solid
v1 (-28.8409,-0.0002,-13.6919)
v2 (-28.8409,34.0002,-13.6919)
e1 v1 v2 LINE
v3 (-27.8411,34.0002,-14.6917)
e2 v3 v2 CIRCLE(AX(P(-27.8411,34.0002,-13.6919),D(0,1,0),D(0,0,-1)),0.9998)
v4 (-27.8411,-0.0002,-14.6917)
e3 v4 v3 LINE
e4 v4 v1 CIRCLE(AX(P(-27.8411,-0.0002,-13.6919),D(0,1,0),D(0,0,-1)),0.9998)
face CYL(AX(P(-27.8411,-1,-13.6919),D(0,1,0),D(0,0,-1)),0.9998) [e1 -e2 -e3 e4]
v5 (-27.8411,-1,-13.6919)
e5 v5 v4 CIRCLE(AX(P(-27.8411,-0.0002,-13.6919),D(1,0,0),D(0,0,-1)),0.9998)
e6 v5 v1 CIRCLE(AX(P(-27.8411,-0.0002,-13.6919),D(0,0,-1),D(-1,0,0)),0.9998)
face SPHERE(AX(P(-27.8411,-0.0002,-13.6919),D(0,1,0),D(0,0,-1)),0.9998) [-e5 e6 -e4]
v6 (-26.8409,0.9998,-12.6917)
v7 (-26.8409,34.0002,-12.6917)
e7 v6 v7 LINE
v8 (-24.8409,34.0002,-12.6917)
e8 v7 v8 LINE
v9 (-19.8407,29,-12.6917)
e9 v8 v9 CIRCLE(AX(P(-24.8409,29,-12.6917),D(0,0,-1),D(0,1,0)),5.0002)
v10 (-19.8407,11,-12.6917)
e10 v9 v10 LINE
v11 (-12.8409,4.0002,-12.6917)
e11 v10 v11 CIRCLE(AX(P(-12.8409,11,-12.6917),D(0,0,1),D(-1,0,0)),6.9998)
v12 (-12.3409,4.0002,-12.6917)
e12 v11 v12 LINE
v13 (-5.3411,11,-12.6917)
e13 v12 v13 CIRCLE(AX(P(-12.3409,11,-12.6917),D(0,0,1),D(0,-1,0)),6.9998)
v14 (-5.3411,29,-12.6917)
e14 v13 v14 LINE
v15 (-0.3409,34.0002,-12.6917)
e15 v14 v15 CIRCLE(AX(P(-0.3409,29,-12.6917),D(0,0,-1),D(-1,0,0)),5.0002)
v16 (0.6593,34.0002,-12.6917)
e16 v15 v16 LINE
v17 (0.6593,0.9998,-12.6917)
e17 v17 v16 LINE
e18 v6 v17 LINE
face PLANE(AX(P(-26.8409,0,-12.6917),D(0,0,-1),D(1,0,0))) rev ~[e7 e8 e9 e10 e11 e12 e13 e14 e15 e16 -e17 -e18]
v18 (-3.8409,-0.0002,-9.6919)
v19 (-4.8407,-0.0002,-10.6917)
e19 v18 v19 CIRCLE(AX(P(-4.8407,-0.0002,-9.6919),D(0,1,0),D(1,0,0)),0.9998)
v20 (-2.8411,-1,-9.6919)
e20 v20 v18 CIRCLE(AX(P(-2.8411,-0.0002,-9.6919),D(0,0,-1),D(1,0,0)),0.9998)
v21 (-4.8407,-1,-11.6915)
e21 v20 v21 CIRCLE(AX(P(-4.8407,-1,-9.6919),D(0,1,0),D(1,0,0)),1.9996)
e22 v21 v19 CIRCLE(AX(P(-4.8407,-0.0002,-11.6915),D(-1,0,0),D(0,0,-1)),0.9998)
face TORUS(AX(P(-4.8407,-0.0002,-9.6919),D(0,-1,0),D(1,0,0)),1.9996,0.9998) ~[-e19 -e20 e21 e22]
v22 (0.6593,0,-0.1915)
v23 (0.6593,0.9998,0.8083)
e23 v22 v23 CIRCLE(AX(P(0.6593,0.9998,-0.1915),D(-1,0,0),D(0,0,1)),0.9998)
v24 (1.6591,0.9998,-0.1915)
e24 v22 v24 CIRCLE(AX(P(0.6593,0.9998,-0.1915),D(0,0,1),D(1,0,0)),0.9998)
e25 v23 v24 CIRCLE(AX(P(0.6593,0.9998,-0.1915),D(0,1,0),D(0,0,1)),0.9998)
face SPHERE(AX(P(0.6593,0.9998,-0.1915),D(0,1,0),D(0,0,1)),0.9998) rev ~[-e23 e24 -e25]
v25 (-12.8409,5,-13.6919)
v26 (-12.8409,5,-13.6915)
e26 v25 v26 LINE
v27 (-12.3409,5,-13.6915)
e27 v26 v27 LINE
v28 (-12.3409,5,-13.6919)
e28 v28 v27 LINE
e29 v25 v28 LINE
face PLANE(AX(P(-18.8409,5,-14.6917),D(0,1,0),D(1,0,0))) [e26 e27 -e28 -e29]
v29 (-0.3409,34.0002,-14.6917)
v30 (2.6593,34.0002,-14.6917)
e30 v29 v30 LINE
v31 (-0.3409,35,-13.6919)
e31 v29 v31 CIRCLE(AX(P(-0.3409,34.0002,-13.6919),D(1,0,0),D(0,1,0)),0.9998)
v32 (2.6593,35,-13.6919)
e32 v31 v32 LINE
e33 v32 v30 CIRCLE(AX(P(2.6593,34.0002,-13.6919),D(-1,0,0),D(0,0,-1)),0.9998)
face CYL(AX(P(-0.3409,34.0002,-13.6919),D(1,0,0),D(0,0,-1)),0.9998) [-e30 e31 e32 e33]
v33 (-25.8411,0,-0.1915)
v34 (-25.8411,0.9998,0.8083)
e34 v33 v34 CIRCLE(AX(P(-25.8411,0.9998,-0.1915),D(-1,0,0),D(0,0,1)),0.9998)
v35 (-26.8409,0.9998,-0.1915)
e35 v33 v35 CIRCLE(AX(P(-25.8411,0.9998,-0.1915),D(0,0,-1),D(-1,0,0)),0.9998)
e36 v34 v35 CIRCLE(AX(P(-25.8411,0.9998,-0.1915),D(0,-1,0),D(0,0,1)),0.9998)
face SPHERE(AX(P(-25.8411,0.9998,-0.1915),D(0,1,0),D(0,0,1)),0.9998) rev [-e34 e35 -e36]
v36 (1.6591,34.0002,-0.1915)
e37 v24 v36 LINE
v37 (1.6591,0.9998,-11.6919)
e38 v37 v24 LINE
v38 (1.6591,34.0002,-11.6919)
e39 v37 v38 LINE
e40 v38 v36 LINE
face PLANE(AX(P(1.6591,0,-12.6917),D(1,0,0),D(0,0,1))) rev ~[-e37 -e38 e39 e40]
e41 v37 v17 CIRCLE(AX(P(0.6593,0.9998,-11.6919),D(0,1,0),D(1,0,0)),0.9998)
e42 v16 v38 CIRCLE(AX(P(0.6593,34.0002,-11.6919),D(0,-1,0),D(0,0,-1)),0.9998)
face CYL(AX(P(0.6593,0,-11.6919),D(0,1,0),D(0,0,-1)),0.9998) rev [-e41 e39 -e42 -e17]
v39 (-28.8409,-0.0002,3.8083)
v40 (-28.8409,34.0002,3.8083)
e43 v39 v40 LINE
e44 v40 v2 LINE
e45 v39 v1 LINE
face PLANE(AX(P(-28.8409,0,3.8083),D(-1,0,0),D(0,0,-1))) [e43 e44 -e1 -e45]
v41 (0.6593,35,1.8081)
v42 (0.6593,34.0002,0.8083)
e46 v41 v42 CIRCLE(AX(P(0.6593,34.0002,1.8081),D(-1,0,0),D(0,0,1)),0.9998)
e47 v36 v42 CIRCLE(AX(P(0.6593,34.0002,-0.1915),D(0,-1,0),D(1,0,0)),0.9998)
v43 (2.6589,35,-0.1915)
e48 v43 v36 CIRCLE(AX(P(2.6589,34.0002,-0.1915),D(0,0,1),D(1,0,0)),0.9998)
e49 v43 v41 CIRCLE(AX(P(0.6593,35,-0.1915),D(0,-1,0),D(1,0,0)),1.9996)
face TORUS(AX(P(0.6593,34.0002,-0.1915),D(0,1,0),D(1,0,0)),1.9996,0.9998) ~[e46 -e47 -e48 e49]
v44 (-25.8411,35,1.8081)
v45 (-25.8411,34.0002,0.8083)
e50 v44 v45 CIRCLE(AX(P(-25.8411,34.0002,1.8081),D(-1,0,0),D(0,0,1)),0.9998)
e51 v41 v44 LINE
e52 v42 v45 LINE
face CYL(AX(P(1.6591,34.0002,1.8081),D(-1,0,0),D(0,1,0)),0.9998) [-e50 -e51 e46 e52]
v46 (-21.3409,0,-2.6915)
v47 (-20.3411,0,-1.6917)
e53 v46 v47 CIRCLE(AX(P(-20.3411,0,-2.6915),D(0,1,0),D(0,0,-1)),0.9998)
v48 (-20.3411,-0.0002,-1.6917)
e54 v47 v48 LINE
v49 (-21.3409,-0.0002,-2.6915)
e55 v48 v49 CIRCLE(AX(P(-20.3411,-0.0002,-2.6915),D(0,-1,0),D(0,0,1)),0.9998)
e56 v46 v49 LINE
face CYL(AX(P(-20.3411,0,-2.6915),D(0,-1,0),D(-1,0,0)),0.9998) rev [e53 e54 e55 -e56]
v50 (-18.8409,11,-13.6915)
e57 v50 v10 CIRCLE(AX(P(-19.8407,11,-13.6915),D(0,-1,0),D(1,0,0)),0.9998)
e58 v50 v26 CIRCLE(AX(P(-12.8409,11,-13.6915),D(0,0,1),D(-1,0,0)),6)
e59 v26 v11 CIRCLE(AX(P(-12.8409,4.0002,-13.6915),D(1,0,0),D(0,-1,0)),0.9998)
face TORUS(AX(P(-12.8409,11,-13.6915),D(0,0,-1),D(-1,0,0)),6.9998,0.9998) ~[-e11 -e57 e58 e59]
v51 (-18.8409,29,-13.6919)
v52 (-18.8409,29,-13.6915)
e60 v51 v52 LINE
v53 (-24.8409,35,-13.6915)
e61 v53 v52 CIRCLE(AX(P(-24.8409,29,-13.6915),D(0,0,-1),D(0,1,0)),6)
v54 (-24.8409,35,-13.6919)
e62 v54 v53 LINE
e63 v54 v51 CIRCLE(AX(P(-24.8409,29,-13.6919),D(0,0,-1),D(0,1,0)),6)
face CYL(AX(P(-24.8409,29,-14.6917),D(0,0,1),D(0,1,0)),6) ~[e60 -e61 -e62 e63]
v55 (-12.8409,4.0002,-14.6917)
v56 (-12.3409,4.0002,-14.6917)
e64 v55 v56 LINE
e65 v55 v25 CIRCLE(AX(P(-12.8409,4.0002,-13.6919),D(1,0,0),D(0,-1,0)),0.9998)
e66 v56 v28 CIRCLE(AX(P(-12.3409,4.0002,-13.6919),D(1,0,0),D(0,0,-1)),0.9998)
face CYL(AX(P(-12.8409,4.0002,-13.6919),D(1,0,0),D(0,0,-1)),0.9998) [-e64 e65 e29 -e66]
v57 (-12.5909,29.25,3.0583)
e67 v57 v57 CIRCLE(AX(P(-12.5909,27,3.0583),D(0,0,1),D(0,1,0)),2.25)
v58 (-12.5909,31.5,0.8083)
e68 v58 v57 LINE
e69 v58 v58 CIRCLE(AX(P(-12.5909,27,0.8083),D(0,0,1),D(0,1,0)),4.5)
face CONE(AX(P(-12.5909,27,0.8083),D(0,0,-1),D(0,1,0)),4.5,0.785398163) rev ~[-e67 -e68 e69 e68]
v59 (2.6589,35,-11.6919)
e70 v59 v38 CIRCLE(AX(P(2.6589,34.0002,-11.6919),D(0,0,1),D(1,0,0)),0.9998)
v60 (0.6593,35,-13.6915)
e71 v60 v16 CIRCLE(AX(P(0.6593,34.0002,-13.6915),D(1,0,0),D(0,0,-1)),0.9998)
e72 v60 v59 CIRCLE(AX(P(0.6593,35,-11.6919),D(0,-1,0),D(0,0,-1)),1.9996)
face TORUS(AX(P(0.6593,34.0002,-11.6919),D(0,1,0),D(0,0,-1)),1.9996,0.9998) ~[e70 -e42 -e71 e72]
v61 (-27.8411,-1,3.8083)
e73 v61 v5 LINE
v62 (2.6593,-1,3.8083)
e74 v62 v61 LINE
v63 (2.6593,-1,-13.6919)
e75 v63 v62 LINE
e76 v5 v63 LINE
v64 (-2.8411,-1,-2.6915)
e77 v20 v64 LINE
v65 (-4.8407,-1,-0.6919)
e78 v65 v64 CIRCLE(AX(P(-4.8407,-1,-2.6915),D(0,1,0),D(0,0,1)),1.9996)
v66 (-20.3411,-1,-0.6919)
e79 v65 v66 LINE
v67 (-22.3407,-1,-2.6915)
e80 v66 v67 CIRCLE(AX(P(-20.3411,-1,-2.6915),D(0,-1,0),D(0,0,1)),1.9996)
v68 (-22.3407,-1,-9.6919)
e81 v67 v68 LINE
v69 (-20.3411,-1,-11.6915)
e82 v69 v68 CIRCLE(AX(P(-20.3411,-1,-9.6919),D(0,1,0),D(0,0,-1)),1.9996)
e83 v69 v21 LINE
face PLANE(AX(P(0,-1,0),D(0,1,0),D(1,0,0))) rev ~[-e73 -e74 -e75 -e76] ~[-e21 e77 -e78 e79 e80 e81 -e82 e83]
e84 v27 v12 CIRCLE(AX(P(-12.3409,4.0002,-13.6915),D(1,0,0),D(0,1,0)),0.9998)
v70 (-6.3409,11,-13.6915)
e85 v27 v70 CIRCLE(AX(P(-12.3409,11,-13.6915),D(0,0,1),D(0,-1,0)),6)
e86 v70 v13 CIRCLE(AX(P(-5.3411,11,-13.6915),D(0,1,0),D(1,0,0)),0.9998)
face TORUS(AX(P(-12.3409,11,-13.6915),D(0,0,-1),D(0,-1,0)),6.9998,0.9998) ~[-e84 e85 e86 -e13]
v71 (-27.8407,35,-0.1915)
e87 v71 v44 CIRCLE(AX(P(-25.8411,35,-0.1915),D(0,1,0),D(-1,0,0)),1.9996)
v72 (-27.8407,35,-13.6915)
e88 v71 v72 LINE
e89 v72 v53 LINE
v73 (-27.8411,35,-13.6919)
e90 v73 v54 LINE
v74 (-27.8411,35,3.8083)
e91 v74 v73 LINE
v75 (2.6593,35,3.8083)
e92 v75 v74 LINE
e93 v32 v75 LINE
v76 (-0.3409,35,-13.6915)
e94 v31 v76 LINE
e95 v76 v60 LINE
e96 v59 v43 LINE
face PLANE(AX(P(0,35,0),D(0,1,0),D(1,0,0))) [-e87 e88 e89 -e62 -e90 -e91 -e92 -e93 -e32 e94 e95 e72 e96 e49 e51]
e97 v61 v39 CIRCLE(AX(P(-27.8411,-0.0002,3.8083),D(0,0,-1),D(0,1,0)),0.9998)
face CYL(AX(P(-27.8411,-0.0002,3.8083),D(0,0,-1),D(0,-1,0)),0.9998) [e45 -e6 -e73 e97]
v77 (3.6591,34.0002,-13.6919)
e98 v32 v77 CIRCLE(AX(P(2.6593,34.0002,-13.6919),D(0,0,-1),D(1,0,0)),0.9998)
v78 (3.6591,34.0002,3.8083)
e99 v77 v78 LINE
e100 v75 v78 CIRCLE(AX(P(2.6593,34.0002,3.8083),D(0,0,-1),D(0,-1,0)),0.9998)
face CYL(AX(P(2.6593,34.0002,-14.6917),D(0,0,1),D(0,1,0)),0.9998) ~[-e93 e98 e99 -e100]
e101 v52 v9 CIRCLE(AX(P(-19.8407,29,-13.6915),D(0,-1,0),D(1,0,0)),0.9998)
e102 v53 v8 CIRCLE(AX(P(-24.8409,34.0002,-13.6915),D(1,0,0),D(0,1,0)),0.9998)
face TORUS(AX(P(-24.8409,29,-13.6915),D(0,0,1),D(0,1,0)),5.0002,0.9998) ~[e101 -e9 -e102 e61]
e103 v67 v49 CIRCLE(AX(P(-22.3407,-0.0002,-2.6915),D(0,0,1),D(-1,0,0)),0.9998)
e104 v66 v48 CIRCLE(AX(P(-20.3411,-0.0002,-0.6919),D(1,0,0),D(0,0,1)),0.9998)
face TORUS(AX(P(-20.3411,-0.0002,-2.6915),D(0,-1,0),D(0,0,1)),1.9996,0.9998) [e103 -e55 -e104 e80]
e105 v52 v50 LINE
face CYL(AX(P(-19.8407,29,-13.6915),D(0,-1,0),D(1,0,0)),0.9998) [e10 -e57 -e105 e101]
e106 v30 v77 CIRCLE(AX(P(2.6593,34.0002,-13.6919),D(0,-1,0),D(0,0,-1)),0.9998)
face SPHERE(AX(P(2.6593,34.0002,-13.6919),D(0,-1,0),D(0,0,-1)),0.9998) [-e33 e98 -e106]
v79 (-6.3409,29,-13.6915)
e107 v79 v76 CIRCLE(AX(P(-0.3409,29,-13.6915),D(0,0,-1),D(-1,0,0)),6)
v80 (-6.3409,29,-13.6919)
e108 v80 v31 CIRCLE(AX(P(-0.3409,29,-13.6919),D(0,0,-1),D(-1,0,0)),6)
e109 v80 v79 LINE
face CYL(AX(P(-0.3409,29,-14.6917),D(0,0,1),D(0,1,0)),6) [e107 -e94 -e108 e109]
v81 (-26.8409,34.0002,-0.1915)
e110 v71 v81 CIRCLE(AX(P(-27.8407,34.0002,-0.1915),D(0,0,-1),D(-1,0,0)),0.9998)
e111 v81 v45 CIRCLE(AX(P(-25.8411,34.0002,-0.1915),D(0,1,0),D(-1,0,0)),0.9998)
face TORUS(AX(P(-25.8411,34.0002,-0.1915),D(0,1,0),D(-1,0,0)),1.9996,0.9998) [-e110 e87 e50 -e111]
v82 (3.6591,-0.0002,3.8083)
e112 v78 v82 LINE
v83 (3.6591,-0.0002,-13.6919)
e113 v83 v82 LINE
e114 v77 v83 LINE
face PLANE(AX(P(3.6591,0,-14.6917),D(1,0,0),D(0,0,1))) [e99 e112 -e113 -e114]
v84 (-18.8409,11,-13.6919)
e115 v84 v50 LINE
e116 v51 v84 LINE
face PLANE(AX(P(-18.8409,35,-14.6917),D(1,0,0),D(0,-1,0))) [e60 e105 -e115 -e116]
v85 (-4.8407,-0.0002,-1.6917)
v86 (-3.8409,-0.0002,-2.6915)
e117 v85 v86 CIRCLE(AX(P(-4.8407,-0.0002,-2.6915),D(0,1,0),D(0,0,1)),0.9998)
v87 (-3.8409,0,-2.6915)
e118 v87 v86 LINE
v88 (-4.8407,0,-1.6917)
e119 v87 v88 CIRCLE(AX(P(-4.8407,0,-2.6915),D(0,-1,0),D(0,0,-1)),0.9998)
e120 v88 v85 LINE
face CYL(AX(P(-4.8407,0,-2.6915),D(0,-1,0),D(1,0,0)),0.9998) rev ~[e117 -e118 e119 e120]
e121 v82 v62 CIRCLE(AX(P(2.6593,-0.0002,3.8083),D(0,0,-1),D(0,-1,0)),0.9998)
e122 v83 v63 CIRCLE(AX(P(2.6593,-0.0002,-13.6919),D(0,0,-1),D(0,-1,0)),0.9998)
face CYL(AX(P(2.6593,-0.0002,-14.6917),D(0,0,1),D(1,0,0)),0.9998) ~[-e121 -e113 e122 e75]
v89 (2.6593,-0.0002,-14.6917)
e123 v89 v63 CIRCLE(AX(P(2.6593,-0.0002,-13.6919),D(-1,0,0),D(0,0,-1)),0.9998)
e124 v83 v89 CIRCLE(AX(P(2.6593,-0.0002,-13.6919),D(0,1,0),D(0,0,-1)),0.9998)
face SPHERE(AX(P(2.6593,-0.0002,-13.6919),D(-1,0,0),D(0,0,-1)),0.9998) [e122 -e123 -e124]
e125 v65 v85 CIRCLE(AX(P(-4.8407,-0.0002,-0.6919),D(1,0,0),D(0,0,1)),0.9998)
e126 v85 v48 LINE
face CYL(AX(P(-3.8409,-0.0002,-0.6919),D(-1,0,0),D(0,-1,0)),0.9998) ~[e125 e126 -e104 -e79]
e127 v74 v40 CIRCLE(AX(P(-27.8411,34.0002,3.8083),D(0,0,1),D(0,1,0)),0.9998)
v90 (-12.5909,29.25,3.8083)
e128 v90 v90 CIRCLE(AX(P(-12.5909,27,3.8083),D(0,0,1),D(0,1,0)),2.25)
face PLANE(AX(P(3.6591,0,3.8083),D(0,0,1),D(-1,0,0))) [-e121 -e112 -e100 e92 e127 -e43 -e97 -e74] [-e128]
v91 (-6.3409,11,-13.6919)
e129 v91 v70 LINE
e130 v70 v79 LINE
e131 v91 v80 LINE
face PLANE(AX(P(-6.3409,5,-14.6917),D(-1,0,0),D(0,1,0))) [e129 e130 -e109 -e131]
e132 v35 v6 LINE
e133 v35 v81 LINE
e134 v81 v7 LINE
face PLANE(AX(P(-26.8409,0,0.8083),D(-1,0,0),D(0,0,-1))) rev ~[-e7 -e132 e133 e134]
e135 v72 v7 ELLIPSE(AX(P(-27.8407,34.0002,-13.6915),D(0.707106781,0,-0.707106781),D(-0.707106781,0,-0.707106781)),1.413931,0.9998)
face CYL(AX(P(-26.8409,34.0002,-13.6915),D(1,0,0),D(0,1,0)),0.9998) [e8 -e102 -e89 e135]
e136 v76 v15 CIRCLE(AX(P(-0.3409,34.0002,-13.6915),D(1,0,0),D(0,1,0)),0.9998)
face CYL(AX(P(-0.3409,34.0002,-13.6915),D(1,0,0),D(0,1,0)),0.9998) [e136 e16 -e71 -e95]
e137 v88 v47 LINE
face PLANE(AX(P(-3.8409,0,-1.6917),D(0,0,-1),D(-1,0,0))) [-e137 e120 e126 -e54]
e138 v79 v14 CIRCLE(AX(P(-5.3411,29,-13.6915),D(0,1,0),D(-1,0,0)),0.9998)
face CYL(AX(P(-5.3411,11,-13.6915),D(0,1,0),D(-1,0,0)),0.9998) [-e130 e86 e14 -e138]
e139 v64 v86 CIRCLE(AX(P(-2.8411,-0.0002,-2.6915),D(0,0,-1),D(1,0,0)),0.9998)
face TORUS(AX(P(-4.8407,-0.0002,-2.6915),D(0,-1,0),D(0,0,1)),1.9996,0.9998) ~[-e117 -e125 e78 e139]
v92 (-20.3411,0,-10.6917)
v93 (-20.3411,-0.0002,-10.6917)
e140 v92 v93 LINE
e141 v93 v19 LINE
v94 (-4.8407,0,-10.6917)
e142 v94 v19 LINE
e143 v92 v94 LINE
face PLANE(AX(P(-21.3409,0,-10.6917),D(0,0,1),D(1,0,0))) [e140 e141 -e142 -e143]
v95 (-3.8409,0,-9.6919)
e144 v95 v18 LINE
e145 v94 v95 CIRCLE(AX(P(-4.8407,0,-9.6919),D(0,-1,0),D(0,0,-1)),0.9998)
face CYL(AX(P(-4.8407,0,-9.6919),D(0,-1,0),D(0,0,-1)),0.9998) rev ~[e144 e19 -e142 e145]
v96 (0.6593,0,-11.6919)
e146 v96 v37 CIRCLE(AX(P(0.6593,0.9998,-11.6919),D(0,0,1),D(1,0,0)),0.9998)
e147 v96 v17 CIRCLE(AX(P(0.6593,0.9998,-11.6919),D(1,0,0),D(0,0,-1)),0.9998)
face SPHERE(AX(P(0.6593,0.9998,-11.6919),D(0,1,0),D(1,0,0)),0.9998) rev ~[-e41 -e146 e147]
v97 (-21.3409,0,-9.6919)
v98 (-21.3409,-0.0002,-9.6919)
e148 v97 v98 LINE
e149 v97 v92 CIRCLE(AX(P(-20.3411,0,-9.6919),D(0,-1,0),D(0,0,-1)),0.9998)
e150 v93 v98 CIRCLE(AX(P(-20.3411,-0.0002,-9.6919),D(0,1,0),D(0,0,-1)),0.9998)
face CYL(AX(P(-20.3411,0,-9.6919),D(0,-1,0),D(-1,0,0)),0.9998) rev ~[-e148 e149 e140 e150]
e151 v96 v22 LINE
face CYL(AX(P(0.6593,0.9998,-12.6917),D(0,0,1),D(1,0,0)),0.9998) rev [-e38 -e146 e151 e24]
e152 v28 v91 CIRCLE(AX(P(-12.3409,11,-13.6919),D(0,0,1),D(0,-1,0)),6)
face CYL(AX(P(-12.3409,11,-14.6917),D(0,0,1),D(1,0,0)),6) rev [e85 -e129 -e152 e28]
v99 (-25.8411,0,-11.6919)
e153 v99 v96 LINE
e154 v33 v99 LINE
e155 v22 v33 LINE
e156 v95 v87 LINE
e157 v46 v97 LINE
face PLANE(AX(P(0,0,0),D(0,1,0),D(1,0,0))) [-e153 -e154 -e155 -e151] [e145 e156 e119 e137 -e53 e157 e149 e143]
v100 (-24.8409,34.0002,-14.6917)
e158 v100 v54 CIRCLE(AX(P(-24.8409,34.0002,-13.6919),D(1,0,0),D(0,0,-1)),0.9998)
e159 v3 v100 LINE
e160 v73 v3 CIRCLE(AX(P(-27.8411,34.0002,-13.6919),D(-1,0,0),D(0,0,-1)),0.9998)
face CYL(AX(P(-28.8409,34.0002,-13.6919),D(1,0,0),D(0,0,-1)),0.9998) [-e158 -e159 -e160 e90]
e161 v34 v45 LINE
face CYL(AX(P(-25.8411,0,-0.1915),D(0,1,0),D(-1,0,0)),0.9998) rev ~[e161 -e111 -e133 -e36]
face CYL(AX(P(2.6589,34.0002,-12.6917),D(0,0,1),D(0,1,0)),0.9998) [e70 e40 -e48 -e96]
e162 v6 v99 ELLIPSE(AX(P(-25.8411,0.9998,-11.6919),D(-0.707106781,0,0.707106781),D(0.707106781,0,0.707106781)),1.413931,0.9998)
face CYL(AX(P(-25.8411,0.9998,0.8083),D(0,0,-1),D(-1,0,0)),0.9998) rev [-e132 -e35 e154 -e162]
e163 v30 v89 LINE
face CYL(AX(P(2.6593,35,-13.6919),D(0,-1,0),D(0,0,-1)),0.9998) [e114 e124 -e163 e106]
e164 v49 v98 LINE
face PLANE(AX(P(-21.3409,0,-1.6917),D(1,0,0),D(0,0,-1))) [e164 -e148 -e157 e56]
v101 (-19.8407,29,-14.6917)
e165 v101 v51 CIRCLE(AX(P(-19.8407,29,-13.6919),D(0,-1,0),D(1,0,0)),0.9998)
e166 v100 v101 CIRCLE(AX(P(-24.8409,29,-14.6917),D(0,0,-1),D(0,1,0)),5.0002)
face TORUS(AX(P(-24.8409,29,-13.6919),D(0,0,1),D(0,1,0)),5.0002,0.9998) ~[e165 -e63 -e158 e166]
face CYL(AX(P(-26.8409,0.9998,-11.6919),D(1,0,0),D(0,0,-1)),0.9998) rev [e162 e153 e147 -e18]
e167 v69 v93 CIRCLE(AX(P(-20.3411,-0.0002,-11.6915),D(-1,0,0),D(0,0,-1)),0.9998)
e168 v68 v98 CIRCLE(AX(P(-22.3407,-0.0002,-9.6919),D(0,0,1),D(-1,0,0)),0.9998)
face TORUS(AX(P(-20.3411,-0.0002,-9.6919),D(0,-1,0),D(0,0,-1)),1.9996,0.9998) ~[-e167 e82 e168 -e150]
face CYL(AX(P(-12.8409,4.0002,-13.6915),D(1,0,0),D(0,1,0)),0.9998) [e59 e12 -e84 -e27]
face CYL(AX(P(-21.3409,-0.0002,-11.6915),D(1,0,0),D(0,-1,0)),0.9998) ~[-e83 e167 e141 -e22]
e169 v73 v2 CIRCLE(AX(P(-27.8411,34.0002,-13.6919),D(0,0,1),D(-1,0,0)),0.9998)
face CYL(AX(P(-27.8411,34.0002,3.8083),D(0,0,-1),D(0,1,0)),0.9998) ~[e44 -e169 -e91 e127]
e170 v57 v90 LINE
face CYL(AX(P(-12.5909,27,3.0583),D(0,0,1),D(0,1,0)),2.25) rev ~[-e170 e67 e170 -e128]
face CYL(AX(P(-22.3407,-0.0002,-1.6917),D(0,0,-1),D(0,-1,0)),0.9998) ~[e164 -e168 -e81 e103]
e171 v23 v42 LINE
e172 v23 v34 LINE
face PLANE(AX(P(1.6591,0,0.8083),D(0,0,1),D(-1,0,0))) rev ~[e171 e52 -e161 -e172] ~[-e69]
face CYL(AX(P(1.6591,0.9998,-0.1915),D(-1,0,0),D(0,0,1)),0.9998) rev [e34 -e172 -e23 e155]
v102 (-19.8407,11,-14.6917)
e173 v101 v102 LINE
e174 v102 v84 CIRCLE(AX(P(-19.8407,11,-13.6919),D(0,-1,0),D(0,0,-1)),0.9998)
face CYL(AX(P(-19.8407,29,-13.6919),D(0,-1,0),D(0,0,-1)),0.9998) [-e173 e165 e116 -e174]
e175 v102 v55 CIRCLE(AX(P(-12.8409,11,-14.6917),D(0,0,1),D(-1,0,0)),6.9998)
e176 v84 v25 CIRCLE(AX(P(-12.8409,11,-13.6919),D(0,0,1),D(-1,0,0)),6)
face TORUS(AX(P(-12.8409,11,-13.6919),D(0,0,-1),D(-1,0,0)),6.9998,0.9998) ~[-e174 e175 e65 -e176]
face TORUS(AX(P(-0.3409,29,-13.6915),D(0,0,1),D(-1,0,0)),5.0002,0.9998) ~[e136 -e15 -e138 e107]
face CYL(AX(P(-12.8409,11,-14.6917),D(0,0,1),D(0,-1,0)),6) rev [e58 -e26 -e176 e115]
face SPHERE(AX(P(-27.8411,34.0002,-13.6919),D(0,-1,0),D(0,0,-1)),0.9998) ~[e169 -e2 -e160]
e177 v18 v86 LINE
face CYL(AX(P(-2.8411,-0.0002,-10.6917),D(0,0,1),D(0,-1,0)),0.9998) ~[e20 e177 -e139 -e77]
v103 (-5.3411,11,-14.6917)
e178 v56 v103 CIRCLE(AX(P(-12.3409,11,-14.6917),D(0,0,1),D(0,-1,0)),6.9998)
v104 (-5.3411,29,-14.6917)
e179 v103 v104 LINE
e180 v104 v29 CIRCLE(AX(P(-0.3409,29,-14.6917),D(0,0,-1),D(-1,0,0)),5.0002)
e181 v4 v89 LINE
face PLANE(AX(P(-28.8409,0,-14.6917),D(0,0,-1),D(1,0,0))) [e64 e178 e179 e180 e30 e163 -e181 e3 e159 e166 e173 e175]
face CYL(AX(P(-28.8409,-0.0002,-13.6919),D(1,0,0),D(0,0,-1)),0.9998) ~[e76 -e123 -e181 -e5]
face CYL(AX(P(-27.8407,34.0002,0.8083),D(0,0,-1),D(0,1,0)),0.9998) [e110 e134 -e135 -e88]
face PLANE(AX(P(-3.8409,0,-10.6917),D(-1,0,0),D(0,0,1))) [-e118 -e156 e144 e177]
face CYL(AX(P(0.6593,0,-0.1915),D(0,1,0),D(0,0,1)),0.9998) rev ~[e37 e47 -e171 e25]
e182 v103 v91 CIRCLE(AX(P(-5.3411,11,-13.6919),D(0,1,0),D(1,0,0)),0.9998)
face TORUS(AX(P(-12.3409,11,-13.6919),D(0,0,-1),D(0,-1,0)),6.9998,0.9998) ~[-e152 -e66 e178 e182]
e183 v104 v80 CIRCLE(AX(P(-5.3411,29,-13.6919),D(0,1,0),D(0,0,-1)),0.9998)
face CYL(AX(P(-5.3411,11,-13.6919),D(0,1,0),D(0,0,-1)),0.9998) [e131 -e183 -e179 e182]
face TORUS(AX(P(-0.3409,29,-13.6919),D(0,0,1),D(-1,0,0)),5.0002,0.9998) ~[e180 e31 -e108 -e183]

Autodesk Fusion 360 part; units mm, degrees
sketch "Skizze1" plane through (0, 0, 0) normal (0, 1, 0) x (1, 0, 0)
  line L0 (-26.8409, 12.6917) -> (1.6591, 12.6917)
  line L1 (1.6591, 12.6917) -> (1.6591, -0.8083)
  line L2 (1.6591, -0.8083) -> (-26.8409, -0.8083)
  line L3 (-26.8409, -0.8083) -> (-26.8409, 12.6917)
  line L4 (-28.8409, 14.6917) -> (3.6591, 14.6917)
  line L5 (3.6591, 14.6917) -> (3.6591, -3.8083)
  line L6 (3.6591, -3.8083) -> (-28.8409, -3.8083)
  line L7 (-28.8409, -3.8083) -> (-28.8409, 14.6917)
  line L8 (-21.3409, 10.6917) -> (-3.8409, 10.6917)
  line L9 (-3.8409, 10.6917) -> (-3.8409, 1.6917)
  line L10 (-3.8409, 1.6917) -> (-21.3409, 1.6917)
  line L11 (-21.3409, 1.6917) -> (-21.3409, 10.6917)
  dimension "d1" = 28.5
  dimension "d2" = 13.5
  dimension "d3" = 2
  dimension "d4" = 3
  dimension "d5" = 2
  dimension "d6" = 2
  dimension "d8" = 5.5
  dimension "d9" = 5.5
  dimension "d10" = 2
  dimension "d11" = 2.5
extrude "Extrusion1" add sketch "Skizze1" along normal blind 35 contours L4 L5 L6 L7
extrude "Extrusion2" add sketch "Skizze1" against normal blind 1 contours L0 L1 L2 L3 | L4 L5 L6 L7
sketch "Skizze2" plane through (0, 0, -14.6917) normal (0, 0, -1) x (-1, 0, 0)
  line L0 (28.8409, -1) -> (28.8409, 35)
  line L1 (28.8409, 35) -> (-3.6591, 35)
  line L2 (-3.6591, 35) -> (-3.6591, -1)
  line L3 (-3.6591, -1) -> (28.8409, -1)
  line L4 (6.3409, 35) -> (18.8409, 35)
  line L5 (18.8409, 35) -> (18.8409, 5)
  line L6 (18.8409, 5) -> (6.3409, 5)
  line L7 (6.3409, 5) -> (6.3409, 35)
  line L8 (28.8409, 0) -> (-3.6591, 0)
  dimension "d16" = 10
  dimension "d17" = 10
  dimension "d18" = 5
extrude "Extrusion3" cut sketch "Skizze2" against normal blind 2 contours L1 L4 L5 L6 L7
fillet "Abrundung1" radius 6 4 edges at (-6.3409, 35, -13.6917) (-18.8409, 35, -13.6917) (-18.8409, 5, -13.6917) (-6.3409, 5, -13.6917)
fillet "Abrundung2" radius 1 43 edges at (-28.8409, 17, -14.6917) (-12.5909, -1, -14.6917) (-28.8409, -1, -5.4417) (3.6591, 17, -14.6917) (3.6591, -1, -5.4417) (-12.5909, -1, -1.6917) (-3.8409, -1, -6.1917) (-12.5909, -1, -10.6917) (-21.3409, -1, -6.1917) (1.6591, 35, -14.6917) (-4.5835, 33.2426, -14.6917) (-6.3409, 20, -14.6917) (-8.0983, 6.7574, -14.6917) (-12.5909, 5, -14.6917) (-17.0835, 6.7574, -14.6917) (-18.8409, 20, -14.6917) (-20.5983, 33.2426, -14.6917) (-26.8409, 35, -14.6917) (-28.8409, 35, -5.4417) (-26.8409, 35, -5.9417) (1.6591, 35, -5.9417) (-12.5909, 35, 0.8083) (3.6591, 35, -5.4417) (1.6591, 17.5, 0.8083) (-26.8409, 17.5, 0.8083) (-12.5909, 0, 0.8083) (1.6591, 17.5, -12.6917) (1.6591, 0, -5.9417) (-12.5909, 0, -12.6917) (-26.8409, 0, -5.9417) (-25.8409, 35, -12.6917) (-20.5983, 33.2426, -12.6917) (-18.8409, 20, -12.6917) (-17.0835, 6.7574, -12.6917) (-12.5909, 5, -12.6917) (-8.0983, 6.7574, -12.6917) (-6.3409, 20, -12.6917) (-4.5835, 33.2426, -12.6917) (0.6591, 35, -12.6917) (-3.8409, -0.5, -10.6917) (-21.3409, -0.5, -10.6917) (-21.3409, -0.5, -1.6917) (-3.8409, -0.5, -1.6917)
sketch "Skizze3" plane through (0, 0, 0.8083) normal (0, 0, -1) x (-1, 0, 0)
  line L0 (-0.6591, 1) -> (25.8409, 1)
  line L1 (25.8409, 1) -> (25.8409, 34)
  line L2 (25.8409, 34) -> (-0.6591, 34)
  line L3 (-0.6591, 34) -> (-0.6591, 1)
  line L4 (25.8409, 35) -> (-0.6591, 35)
  line L5 (-2.6591, 0) -> (-2.6591, 34)
  line L6 (27.8409, 34) -> (27.8409, 0)
  point P0 (12.5909, 27)
  dimension "d25" = 8
  dimension "d26" = 15.25
  dimension "d27" = 15.25
hole "Bohrung1" at (-12.5909, 27, 0.8083) direction (0, 0, 1) diameter 4.5 depth 25 tip angle 118 countersink diameter 9 countersink angle 90
equation "d5 = d3"
equation "d6 = d3"
equation "d17 = d16"
